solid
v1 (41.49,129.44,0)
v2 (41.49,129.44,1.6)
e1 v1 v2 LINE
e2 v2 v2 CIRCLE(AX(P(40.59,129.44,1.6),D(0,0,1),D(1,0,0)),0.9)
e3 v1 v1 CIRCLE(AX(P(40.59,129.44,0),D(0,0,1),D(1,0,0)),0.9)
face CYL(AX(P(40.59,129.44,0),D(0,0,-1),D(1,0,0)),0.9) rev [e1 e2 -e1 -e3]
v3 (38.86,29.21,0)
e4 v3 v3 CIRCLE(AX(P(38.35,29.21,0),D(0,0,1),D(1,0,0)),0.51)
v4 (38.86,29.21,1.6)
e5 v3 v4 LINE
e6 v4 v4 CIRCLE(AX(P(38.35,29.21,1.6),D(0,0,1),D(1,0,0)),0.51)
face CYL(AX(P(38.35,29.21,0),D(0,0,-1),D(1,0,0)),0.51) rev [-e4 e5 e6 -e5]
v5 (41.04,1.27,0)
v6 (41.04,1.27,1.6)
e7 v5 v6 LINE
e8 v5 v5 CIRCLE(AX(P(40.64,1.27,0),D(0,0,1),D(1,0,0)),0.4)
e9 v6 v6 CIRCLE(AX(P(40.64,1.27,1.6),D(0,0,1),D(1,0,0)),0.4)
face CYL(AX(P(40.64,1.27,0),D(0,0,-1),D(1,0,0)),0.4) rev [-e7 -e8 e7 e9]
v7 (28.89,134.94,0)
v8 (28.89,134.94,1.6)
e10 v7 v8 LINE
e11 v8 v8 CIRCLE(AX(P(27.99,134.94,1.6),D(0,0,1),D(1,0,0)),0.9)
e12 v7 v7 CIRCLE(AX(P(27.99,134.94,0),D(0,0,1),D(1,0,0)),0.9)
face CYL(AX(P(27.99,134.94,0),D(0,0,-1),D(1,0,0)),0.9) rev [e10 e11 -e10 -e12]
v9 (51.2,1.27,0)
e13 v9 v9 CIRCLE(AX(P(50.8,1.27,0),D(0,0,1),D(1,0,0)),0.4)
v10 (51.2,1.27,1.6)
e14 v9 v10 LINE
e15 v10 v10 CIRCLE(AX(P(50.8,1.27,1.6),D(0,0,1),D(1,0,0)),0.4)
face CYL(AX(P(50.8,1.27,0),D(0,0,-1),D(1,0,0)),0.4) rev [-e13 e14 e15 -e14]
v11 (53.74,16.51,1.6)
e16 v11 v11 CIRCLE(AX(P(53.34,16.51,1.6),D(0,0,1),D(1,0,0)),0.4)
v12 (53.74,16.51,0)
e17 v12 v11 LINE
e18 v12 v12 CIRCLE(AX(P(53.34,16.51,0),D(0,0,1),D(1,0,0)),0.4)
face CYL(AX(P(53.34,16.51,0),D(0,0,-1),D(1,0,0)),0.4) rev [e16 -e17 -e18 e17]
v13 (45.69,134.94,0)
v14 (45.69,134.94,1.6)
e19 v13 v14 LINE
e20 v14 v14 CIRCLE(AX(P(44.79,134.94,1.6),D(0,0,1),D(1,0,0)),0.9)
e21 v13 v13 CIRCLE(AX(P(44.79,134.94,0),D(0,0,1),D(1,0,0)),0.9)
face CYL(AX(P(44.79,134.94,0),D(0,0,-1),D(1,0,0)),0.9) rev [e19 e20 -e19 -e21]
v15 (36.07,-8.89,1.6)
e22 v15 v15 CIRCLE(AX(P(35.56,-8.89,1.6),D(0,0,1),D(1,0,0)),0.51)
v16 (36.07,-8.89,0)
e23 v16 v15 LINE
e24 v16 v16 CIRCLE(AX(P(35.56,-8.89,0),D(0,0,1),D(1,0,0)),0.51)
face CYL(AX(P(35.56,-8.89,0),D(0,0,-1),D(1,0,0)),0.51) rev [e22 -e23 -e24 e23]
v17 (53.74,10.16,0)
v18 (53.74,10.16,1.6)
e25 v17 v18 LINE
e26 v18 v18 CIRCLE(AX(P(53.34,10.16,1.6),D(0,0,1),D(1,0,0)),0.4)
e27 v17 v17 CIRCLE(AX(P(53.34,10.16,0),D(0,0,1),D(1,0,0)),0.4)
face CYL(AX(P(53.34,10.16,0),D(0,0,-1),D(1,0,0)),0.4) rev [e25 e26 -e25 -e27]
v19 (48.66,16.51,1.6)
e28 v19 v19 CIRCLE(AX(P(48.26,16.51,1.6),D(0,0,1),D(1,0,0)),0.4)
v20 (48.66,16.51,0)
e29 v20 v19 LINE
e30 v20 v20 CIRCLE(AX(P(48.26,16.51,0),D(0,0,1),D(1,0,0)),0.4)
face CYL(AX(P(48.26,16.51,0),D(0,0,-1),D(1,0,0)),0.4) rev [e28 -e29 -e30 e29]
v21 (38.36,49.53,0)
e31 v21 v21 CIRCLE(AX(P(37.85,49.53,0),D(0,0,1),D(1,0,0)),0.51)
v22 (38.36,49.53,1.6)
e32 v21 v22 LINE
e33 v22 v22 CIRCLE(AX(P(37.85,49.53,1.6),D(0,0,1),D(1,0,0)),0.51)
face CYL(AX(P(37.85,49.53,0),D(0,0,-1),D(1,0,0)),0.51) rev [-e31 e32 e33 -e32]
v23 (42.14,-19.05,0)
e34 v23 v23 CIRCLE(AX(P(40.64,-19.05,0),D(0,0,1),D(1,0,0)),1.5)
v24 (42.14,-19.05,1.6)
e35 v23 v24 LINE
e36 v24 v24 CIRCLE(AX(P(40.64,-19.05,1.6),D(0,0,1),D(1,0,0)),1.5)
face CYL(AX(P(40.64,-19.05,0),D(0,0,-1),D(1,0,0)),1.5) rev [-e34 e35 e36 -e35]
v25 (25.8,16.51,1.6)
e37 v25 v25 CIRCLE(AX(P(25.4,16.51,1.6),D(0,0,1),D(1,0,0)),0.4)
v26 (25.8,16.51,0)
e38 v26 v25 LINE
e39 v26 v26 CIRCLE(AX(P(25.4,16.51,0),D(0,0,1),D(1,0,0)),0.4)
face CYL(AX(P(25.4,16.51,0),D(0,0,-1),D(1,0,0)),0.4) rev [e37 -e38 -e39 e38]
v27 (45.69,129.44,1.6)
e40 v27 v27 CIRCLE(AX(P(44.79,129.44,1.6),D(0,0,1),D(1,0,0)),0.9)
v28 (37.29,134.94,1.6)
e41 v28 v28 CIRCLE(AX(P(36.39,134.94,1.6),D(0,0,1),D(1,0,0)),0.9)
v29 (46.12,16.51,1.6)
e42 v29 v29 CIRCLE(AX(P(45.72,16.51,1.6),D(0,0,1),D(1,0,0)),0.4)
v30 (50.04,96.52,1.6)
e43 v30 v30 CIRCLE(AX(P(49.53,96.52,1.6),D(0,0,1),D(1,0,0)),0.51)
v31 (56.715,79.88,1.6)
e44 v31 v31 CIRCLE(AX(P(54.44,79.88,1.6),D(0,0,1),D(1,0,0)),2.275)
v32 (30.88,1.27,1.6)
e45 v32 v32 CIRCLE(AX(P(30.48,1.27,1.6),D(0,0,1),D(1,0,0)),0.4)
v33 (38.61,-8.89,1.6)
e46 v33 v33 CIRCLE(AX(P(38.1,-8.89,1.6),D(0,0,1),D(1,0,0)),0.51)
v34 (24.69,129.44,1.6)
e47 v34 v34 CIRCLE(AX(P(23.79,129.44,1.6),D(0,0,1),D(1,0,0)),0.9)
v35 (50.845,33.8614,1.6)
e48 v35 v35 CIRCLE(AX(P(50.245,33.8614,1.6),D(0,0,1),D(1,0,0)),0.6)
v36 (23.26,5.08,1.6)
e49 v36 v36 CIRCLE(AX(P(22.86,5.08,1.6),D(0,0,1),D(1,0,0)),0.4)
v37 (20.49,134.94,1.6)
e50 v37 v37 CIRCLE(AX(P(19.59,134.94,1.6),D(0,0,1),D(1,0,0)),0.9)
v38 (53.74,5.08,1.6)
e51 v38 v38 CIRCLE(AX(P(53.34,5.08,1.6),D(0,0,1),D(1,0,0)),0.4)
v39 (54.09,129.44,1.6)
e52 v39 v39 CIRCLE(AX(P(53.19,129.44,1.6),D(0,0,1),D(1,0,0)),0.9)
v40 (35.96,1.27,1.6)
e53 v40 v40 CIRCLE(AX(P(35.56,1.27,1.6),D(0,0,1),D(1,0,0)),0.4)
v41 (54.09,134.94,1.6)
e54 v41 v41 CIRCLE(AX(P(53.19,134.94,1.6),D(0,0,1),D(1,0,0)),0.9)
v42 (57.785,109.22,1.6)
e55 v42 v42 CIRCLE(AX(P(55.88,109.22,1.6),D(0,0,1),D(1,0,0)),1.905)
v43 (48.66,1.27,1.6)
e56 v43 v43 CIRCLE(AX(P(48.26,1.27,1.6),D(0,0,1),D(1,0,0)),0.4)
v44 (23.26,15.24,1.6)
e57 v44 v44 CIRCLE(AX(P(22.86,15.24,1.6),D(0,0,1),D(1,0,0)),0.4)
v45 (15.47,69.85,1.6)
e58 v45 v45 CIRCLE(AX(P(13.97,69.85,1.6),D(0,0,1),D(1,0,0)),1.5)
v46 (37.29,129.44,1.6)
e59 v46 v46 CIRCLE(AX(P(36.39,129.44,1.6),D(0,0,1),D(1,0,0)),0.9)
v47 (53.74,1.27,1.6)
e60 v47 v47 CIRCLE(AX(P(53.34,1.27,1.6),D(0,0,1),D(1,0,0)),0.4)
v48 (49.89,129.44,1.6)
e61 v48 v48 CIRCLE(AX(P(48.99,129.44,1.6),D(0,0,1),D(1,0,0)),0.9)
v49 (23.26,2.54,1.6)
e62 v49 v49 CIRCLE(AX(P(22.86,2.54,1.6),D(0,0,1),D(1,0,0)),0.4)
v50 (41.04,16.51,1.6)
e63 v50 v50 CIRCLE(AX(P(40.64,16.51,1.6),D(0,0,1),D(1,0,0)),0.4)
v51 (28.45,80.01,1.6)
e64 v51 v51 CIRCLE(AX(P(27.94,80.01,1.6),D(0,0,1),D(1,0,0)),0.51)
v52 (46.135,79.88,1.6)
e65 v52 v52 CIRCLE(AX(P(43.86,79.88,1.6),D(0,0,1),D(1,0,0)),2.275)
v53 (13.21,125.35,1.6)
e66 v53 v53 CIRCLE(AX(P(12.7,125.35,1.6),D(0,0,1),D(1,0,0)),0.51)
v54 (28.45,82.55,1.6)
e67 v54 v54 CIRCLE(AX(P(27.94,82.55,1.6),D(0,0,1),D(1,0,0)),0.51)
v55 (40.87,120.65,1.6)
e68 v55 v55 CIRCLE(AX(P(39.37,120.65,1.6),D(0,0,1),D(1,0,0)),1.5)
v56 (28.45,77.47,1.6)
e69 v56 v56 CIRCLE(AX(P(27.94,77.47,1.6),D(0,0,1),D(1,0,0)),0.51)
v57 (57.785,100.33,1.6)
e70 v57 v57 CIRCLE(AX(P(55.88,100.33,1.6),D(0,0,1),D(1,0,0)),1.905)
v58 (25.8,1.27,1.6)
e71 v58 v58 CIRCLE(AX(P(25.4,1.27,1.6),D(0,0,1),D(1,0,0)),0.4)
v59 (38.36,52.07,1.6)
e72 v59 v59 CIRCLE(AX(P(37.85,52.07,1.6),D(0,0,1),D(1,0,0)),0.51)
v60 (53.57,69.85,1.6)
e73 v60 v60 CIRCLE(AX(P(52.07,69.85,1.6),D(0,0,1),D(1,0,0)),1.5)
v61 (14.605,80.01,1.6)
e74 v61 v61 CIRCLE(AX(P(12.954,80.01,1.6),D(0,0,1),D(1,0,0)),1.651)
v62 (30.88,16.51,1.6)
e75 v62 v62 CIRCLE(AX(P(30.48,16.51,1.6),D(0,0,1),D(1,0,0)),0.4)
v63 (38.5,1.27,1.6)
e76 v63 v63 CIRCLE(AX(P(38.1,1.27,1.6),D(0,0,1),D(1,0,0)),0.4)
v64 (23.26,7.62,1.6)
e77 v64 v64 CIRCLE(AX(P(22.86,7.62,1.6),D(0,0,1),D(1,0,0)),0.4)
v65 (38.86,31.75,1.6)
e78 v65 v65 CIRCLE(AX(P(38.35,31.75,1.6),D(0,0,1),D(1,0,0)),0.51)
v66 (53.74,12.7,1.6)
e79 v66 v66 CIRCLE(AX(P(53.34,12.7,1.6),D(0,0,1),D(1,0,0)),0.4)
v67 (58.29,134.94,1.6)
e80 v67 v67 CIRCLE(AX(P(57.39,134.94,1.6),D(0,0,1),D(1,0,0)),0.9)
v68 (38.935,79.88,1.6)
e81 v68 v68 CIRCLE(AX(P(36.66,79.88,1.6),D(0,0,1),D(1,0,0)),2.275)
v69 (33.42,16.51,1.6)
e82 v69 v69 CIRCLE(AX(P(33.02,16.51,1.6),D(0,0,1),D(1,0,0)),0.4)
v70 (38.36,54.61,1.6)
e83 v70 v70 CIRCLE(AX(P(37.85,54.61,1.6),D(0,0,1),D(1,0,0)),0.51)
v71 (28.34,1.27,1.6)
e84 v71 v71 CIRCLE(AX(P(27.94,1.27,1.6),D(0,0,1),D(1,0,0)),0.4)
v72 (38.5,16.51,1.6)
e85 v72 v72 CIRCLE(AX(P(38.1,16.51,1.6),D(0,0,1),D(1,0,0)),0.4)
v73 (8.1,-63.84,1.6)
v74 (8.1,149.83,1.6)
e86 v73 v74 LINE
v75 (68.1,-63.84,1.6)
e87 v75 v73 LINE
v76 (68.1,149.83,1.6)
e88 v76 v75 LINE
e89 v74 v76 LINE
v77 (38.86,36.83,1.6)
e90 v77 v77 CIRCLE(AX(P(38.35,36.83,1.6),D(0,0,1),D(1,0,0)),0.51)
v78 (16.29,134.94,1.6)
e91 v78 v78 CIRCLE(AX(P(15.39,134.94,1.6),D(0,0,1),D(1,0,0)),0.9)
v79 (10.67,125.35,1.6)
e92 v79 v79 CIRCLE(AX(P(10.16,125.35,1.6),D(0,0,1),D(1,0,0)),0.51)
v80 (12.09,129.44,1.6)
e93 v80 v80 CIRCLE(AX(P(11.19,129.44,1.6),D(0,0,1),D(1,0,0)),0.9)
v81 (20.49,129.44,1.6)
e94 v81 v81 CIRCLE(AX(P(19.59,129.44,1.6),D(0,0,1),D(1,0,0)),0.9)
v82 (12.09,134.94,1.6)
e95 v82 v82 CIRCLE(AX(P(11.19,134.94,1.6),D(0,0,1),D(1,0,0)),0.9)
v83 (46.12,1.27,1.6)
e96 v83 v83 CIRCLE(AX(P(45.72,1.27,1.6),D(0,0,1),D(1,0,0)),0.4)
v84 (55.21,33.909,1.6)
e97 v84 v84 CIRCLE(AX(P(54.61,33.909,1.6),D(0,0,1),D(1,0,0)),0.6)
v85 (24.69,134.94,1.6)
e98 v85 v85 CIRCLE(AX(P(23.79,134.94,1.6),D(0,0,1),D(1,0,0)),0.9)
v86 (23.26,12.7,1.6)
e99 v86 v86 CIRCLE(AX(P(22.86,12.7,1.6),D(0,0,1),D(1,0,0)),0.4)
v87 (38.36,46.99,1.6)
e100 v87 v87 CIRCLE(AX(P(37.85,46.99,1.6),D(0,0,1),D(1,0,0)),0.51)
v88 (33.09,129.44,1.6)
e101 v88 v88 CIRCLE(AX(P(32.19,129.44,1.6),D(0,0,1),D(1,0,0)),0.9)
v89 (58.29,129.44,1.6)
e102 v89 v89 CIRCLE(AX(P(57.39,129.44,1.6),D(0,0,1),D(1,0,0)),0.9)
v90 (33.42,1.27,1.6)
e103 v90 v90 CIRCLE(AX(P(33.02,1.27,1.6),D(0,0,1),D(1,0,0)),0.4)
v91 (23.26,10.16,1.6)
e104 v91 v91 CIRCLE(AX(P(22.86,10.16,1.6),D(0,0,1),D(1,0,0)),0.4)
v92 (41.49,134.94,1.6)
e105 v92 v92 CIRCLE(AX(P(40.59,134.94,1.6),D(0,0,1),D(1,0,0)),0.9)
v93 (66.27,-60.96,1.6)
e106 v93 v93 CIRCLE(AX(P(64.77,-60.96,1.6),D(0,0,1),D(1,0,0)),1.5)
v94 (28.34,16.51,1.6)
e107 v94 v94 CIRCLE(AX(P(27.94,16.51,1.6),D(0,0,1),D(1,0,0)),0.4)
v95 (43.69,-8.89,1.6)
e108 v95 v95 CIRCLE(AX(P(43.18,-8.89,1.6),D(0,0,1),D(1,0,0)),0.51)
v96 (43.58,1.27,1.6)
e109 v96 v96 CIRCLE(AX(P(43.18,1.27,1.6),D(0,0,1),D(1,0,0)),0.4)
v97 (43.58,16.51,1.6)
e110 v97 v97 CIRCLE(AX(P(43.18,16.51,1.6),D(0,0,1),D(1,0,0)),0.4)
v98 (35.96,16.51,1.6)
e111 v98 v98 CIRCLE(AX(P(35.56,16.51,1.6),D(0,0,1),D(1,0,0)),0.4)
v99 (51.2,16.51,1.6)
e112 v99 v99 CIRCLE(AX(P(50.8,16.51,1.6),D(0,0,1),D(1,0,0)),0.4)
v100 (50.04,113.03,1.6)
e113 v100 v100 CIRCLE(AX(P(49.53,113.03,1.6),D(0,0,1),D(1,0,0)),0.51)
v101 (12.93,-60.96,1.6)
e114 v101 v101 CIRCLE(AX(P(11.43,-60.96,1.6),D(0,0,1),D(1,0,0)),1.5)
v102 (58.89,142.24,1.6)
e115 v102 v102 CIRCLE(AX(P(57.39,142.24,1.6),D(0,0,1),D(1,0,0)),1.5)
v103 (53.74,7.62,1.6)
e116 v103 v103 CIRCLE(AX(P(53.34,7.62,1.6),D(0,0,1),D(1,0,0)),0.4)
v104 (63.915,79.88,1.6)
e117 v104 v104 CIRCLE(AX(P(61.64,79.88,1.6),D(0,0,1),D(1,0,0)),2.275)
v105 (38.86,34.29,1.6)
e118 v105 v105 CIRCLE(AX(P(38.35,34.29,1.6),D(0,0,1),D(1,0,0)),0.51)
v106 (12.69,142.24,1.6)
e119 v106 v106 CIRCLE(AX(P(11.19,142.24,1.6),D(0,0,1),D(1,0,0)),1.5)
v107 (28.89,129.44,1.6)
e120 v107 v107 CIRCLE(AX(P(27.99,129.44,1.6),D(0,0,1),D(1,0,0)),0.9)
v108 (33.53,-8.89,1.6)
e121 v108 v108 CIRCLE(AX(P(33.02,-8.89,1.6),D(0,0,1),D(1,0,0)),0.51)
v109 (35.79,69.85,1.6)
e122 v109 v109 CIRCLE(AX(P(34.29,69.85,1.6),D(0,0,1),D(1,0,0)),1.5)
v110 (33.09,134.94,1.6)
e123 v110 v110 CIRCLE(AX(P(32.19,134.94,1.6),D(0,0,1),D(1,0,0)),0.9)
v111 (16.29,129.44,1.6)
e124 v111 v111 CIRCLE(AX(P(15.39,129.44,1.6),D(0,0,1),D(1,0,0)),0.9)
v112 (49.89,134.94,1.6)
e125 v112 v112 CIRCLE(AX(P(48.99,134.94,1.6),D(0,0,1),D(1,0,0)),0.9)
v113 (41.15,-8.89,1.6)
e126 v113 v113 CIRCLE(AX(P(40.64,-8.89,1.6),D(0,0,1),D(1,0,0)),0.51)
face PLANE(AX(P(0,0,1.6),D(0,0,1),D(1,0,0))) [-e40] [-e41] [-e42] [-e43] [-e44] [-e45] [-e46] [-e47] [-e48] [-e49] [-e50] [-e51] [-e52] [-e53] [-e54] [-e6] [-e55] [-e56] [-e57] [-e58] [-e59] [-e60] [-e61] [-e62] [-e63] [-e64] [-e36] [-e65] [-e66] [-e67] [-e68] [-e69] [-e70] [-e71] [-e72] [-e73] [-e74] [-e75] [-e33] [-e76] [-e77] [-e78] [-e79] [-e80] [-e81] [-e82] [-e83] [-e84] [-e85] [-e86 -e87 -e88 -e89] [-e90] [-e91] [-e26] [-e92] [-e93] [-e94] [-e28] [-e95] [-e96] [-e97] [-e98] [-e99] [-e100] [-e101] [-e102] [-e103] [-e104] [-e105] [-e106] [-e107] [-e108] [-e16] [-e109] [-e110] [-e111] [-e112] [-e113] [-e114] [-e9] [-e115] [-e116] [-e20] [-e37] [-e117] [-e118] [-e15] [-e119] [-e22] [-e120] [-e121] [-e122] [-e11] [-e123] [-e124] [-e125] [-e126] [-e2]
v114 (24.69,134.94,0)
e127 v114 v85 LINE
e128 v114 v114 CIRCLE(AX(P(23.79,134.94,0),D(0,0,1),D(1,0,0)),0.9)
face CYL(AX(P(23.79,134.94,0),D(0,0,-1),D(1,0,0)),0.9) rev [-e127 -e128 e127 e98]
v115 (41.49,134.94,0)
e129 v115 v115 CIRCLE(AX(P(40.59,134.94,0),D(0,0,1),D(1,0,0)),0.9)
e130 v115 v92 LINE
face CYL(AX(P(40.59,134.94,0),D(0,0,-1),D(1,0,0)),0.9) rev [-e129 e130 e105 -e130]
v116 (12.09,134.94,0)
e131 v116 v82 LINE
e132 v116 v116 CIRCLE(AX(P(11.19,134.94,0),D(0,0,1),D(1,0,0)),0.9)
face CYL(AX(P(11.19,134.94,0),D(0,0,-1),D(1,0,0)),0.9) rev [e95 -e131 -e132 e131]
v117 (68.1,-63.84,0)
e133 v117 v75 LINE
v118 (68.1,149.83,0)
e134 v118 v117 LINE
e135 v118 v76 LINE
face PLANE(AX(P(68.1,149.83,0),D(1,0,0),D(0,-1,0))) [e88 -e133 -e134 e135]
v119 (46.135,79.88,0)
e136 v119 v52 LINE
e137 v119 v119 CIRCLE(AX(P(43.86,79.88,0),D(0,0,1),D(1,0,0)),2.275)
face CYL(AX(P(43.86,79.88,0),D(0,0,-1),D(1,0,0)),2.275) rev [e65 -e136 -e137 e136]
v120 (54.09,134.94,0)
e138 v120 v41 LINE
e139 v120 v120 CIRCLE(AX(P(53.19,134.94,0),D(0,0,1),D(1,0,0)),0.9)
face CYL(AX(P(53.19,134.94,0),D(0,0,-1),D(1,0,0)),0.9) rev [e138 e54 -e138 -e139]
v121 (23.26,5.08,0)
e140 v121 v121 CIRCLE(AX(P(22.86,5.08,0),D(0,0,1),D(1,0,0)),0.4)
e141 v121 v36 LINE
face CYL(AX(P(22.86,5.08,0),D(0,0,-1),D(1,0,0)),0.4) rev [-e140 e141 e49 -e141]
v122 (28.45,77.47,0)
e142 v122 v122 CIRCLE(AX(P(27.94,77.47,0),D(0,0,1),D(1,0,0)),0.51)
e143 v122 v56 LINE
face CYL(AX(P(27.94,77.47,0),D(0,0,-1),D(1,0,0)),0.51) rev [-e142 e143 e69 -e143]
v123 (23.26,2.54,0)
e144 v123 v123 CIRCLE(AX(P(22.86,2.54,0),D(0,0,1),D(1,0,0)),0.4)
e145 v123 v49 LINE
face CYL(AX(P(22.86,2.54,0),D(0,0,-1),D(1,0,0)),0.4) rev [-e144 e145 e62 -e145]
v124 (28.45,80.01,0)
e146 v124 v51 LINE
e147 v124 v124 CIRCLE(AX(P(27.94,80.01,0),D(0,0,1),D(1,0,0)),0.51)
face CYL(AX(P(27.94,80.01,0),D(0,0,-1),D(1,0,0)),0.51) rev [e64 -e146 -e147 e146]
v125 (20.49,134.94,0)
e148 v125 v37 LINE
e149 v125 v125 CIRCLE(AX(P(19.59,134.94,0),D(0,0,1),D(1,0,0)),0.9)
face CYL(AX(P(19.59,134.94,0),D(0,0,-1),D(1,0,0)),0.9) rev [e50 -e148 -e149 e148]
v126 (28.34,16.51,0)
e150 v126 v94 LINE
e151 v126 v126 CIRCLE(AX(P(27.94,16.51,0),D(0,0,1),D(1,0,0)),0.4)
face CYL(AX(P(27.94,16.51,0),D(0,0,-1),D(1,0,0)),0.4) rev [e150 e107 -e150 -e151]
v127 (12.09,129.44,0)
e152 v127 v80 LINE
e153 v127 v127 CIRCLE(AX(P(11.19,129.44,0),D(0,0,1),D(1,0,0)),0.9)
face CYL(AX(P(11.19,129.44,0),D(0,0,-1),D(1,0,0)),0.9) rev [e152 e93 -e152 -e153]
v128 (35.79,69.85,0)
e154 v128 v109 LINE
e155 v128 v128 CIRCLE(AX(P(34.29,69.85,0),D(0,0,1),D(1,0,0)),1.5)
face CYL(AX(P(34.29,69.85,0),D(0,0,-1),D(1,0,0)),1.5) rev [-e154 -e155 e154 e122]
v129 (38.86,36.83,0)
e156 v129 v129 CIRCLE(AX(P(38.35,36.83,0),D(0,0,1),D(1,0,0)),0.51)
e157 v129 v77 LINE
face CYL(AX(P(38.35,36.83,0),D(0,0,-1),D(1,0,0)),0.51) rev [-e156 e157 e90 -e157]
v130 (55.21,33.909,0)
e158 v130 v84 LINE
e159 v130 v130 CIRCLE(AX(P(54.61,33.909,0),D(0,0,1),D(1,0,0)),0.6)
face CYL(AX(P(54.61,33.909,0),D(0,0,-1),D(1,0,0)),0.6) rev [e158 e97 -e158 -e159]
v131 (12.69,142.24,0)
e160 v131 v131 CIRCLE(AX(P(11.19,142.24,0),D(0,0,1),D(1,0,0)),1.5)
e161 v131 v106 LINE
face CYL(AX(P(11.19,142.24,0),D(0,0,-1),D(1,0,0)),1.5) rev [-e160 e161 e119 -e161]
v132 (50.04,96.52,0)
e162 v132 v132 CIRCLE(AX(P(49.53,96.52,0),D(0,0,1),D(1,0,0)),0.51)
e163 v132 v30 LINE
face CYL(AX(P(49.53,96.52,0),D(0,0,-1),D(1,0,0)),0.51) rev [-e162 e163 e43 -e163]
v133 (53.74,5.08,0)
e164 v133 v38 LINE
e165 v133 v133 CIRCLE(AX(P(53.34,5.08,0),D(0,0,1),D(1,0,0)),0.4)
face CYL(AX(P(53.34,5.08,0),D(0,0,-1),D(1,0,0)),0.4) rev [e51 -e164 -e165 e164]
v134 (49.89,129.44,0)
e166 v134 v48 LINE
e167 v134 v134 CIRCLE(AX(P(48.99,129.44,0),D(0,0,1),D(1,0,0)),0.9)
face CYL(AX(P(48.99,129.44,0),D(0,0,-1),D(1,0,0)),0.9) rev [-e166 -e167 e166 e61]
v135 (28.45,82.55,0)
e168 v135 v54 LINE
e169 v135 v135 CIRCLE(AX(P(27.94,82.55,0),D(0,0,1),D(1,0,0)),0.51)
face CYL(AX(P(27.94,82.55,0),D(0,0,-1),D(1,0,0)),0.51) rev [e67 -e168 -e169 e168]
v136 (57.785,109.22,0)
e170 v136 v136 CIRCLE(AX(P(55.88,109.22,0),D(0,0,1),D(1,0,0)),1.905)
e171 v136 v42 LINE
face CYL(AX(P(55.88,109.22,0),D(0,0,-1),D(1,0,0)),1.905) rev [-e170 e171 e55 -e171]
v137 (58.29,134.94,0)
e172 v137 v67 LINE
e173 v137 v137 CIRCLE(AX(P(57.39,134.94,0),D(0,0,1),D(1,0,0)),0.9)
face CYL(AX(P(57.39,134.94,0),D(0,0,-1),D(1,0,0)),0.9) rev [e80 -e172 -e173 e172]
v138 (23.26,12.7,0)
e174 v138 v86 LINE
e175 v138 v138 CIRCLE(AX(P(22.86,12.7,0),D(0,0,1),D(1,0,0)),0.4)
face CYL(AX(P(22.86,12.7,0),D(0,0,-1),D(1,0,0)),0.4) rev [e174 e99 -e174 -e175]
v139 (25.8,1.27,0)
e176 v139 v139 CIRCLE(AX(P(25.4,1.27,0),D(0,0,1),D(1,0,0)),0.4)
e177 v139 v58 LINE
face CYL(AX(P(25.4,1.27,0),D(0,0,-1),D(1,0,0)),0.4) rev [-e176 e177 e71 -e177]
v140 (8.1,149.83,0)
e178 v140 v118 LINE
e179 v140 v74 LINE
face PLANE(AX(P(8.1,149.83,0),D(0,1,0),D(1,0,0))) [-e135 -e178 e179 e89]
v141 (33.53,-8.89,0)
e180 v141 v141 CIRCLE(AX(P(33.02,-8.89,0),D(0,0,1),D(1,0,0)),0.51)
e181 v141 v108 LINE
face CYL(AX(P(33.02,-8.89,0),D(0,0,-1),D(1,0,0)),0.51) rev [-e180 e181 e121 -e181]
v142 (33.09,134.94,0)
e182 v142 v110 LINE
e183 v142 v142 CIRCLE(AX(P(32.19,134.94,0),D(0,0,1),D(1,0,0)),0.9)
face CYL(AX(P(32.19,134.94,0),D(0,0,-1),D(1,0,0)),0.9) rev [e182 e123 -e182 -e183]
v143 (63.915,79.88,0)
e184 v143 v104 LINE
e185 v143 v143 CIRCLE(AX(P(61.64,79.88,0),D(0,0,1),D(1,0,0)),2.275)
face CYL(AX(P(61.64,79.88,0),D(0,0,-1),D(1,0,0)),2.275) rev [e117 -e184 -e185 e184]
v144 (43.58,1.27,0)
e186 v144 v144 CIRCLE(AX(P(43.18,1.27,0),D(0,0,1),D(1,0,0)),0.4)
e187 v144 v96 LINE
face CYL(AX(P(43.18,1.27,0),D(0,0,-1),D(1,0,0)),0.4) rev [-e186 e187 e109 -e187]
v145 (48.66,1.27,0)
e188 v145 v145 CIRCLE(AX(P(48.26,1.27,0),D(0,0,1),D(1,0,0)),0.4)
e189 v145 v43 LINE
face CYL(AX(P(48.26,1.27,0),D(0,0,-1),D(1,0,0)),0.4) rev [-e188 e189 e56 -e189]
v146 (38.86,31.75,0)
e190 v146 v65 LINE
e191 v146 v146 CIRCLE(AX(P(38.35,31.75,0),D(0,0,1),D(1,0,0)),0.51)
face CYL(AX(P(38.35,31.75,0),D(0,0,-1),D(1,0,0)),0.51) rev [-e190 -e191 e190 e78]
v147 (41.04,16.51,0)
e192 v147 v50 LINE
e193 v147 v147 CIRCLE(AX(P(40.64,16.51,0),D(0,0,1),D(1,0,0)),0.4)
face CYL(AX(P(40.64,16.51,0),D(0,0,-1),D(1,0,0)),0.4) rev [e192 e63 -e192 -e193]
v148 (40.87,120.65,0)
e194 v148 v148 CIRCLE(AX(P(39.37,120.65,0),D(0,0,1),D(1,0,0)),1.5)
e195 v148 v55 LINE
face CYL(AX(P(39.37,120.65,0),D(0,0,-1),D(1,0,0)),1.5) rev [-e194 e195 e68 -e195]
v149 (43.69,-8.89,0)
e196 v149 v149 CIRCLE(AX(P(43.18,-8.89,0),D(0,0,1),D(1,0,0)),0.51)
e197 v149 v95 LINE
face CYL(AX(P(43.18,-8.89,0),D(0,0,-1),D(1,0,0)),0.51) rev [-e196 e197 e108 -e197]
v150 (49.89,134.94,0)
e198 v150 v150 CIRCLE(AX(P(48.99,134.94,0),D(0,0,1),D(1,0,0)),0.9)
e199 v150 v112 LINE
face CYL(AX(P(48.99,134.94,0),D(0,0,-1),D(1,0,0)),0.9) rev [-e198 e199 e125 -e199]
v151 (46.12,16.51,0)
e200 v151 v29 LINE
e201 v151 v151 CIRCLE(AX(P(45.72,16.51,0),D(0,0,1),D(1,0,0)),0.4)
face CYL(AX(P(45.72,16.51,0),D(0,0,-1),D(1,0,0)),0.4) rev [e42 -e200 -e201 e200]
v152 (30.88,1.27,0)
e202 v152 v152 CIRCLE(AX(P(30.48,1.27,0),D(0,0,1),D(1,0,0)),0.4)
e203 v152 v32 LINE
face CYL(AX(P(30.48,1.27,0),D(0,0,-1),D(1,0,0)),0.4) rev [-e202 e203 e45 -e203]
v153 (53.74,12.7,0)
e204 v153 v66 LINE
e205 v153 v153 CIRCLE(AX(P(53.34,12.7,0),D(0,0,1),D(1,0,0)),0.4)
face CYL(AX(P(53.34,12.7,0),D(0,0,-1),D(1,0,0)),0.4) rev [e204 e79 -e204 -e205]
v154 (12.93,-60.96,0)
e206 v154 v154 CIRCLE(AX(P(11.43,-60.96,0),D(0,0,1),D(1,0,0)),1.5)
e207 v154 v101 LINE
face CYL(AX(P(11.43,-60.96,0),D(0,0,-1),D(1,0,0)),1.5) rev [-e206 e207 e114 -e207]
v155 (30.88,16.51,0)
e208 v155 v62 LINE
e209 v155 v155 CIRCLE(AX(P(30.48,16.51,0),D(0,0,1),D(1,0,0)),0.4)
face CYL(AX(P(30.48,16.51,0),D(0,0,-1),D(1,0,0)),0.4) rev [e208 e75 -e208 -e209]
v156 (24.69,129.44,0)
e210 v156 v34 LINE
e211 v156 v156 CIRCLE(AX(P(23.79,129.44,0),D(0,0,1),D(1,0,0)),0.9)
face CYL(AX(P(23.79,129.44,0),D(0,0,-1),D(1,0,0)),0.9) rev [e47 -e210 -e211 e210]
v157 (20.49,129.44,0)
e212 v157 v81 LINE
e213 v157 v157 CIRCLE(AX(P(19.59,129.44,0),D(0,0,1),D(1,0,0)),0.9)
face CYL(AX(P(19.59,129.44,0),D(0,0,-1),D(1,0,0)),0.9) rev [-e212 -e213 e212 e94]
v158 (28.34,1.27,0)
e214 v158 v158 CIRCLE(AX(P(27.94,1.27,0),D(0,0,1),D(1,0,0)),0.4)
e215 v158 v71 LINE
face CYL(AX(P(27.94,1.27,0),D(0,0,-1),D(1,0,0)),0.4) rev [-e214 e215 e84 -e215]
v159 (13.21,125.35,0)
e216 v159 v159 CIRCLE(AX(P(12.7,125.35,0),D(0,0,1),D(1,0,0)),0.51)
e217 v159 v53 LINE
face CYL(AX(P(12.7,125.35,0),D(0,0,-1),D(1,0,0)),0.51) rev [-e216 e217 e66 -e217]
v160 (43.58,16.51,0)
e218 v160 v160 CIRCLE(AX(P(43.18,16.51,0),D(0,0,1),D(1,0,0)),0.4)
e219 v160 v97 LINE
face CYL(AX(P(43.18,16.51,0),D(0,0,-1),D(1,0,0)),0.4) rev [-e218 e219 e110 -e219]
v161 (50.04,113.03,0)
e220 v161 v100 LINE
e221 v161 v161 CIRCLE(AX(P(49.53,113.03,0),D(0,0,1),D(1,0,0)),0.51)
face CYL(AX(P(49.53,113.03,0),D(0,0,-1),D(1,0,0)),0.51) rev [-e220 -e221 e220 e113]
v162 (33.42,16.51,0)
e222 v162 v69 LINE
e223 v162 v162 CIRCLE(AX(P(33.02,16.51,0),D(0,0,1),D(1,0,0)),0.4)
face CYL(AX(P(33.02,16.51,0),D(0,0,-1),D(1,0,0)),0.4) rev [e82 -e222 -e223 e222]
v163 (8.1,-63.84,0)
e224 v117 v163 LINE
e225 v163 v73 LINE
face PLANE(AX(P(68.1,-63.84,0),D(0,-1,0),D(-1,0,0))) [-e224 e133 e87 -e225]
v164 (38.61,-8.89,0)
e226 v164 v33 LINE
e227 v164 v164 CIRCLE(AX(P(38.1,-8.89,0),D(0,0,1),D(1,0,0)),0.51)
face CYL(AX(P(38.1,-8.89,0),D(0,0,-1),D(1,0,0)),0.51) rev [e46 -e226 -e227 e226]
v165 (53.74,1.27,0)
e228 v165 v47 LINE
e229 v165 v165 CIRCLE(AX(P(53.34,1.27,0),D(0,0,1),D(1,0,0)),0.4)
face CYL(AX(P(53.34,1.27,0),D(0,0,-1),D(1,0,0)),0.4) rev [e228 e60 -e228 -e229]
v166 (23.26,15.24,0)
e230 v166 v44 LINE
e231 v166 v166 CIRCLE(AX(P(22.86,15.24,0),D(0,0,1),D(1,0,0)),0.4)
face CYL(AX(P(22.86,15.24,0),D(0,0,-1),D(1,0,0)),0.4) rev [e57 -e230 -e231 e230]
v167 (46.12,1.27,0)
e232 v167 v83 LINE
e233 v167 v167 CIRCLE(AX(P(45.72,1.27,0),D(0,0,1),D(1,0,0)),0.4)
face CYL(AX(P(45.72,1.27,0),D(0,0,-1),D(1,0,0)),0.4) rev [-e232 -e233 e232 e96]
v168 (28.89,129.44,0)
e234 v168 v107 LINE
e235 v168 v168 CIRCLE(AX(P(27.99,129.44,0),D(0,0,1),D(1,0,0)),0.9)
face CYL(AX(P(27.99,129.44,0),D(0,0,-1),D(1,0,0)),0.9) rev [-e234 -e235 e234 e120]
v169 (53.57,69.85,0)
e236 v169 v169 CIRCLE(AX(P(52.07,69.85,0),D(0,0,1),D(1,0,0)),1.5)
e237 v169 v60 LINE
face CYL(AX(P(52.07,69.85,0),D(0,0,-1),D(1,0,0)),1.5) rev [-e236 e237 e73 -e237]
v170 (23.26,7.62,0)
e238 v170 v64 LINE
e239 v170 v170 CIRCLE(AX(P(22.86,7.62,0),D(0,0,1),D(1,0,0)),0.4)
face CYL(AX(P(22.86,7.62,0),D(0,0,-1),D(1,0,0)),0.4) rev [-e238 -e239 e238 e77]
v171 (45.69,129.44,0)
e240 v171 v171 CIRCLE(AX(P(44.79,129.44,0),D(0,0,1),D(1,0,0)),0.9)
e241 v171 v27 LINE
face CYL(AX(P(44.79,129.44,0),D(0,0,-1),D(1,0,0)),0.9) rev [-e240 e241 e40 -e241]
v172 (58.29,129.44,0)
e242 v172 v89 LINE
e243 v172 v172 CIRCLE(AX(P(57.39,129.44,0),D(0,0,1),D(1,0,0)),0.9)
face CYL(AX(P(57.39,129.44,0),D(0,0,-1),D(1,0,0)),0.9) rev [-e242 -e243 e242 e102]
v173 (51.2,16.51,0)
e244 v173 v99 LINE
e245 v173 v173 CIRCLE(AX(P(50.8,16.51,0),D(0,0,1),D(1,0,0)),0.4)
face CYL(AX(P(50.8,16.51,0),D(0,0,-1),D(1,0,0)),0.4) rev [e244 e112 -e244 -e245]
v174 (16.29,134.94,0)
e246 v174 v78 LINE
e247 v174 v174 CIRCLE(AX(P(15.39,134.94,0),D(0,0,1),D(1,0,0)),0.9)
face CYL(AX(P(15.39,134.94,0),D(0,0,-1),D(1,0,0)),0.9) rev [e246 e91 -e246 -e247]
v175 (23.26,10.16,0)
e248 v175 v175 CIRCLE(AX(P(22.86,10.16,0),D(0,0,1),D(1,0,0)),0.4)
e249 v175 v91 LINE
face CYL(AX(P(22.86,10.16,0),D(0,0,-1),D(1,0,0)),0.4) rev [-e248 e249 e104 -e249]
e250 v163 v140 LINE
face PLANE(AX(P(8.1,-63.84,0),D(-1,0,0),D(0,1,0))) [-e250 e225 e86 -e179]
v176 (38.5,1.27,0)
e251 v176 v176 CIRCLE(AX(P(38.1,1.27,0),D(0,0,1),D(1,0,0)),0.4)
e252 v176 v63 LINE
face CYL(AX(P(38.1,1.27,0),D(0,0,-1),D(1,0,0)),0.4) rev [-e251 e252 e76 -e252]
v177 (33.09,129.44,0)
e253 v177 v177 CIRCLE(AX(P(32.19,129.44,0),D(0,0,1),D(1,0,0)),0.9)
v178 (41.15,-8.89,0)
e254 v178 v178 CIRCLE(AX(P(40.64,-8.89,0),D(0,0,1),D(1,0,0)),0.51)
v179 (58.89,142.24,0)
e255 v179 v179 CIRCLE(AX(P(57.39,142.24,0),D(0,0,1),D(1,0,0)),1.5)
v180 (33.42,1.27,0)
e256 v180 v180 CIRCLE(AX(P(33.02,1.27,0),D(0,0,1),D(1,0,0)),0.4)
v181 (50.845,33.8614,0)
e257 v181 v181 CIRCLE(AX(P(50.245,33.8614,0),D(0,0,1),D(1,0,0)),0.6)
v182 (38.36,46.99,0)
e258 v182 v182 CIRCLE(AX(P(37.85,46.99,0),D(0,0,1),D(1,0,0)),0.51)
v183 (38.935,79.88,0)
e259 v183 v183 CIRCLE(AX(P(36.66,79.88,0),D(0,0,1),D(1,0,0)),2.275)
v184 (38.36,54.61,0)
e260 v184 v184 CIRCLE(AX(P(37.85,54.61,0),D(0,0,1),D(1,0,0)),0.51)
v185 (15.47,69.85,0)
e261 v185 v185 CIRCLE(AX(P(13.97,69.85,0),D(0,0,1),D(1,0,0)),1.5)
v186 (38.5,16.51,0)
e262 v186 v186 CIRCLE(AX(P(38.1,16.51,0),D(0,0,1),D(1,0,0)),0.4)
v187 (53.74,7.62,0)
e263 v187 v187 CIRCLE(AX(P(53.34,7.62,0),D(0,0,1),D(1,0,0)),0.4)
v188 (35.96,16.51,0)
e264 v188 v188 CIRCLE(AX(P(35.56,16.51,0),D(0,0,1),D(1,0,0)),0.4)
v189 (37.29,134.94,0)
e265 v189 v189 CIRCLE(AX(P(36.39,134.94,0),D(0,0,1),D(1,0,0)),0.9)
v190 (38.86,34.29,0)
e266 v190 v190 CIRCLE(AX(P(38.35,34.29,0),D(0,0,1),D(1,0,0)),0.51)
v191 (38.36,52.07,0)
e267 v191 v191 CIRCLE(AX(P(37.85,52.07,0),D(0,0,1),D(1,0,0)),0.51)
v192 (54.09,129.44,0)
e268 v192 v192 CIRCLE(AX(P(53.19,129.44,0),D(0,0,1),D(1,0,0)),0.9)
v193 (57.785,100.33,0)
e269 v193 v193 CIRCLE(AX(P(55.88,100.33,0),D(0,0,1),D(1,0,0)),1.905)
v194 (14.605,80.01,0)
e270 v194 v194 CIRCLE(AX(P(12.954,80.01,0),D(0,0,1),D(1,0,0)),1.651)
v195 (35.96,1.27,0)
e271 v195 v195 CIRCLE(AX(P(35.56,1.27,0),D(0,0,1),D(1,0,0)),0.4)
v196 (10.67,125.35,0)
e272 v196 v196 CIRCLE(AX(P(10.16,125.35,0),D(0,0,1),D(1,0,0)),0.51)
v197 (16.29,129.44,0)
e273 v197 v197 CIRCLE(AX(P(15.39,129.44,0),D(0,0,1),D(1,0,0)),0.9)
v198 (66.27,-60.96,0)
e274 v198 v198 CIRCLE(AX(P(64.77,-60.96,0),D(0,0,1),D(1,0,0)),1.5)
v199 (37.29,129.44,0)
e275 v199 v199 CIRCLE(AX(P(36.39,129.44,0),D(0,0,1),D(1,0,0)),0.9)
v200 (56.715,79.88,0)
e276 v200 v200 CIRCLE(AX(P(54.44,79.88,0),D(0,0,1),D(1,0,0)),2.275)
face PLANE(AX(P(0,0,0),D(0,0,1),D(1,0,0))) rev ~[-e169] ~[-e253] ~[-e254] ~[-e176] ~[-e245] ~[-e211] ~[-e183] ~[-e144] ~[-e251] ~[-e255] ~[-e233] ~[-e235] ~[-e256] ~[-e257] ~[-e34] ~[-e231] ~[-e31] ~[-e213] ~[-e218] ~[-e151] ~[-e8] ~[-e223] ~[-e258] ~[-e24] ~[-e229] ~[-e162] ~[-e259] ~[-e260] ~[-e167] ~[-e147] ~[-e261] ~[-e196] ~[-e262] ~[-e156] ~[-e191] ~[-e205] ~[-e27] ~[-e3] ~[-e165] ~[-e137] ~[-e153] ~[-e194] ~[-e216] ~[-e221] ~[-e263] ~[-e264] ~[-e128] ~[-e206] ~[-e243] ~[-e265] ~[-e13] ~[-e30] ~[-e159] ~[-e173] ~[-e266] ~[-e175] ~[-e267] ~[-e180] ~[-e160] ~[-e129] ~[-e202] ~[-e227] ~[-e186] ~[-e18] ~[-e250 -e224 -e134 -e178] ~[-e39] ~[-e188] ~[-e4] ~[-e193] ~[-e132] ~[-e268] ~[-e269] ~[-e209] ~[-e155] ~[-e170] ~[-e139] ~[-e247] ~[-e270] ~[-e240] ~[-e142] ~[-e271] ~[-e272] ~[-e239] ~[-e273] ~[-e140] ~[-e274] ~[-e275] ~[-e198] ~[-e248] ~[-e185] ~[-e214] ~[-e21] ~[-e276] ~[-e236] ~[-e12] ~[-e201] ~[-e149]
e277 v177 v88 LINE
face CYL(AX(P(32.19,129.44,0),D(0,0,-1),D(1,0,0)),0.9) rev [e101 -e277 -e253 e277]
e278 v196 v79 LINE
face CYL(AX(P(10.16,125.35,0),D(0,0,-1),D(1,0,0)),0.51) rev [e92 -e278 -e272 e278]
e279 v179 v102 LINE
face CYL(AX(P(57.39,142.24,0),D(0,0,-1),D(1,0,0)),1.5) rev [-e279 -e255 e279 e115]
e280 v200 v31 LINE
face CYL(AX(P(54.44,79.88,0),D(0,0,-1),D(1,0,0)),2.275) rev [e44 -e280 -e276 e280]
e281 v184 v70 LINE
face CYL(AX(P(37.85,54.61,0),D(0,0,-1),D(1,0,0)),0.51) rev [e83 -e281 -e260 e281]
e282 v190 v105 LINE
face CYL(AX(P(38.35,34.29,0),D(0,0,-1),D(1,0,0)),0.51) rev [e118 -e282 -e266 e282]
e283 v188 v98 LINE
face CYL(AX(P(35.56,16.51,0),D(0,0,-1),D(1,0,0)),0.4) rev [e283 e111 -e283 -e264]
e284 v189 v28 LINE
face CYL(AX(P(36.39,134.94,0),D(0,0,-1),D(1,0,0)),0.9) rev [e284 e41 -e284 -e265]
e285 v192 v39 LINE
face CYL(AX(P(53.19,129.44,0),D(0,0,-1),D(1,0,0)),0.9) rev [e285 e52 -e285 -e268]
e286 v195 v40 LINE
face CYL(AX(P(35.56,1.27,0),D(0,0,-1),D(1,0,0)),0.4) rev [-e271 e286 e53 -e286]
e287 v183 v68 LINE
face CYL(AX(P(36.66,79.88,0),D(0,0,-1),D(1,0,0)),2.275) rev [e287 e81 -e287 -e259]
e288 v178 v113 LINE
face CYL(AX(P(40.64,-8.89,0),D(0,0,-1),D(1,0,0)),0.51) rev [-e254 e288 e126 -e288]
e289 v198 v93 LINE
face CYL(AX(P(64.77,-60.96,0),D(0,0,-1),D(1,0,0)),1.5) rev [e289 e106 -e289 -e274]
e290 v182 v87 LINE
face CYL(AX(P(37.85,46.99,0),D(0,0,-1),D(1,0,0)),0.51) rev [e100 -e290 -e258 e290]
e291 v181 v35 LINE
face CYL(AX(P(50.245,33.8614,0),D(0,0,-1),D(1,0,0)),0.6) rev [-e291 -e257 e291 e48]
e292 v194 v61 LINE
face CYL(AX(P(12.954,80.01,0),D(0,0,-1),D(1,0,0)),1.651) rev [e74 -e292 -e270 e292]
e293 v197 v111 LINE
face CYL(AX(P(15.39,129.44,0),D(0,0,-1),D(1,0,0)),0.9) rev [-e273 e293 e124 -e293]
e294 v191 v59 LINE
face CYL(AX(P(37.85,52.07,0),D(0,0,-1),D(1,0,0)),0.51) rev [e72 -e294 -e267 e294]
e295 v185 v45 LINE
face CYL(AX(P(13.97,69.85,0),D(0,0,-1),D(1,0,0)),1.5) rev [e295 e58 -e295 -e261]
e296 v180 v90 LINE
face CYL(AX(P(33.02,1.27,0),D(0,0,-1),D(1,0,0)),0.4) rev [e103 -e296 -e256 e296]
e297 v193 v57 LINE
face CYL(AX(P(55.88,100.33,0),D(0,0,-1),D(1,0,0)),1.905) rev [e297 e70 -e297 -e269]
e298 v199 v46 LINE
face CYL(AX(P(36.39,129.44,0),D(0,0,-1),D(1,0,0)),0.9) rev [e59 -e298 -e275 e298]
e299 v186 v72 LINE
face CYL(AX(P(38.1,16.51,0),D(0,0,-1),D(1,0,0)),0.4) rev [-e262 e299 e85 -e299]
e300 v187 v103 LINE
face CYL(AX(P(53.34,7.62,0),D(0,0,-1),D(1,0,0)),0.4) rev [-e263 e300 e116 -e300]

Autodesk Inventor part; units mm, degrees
ref_plane "YZ Plane" through (0, 0, 0) normal (1, 0, 0) x (0, 1, 0)
ref_plane "XZ Plane" through (0, 0, 0) normal (0, 1, 0) x (-1, 0, 0)
ref_plane "XY Plane" through (0, 0, 0) normal (0, 0, 1) x (1, 0, 0)
sketch "Эскиз1" plane through (0, 0, 0) normal (0, 0, 1) x (1, 0, 0)
  line L0 (68.1, 149.83) -> (68.1, -63.84)
  line L1 (68.1, -63.84) -> (8.1, -63.84)
  line L2 (8.1, -63.84) -> (8.1, 149.83)
  line L3 (8.1, 149.83) -> (68.1, 149.83)
  circle A0 centre (38.35, 29.21) radius 0.51
  circle A1 centre (38.35, 31.75) radius 0.51
  circle A2 centre (38.35, 34.29) radius 0.51
  circle A3 centre (38.35, 36.83) radius 0.51
  circle A4 centre (37.85, 54.61) radius 0.51
  circle A5 centre (37.85, 52.07) radius 0.51
  circle A6 centre (37.85, 49.53) radius 0.51
  circle A7 centre (37.85, 46.99) radius 0.51
  circle A8 centre (43.86, 79.88) radius 2.275
  circle A9 centre (36.66, 79.88) radius 2.275
  circle A10 centre (61.64, 79.88) radius 2.275
  circle A11 centre (54.44, 79.88) radius 2.275
  circle A12 centre (55.88, 100.33) radius 1.905
  circle A13 centre (55.88, 109.22) radius 1.905
  circle A14 centre (11.19, 134.94) radius 0.9
  circle A15 centre (15.39, 134.94) radius 0.9
  circle A16 centre (19.59, 134.94) radius 0.9
  circle A17 centre (23.79, 134.94) radius 0.9
  circle A18 centre (27.99, 134.94) radius 0.9
  circle A19 centre (32.19, 134.94) radius 0.9
  circle A20 centre (36.39, 134.94) radius 0.9
  circle A21 centre (40.59, 134.94) radius 0.9
  circle A22 centre (44.79, 134.94) radius 0.9
  circle A23 centre (48.99, 134.94) radius 0.9
  circle A24 centre (53.19, 134.94) radius 0.9
  circle A25 centre (57.39, 134.94) radius 0.9
  circle A26 centre (11.19, 129.44) radius 0.9
  circle A27 centre (15.39, 129.44) radius 0.9
  circle A28 centre (19.59, 129.44) radius 0.9
  circle A29 centre (23.79, 129.44) radius 0.9
  circle A30 centre (27.99, 129.44) radius 0.9
  circle A31 centre (32.19, 129.44) radius 0.9
  circle A32 centre (36.39, 129.44) radius 0.9
  circle A33 centre (40.59, 129.44) radius 0.9
  circle A34 centre (44.79, 129.44) radius 0.9
  circle A35 centre (48.99, 129.44) radius 0.9
  circle A36 centre (53.19, 129.44) radius 0.9
  circle A37 centre (57.39, 129.44) radius 0.9
  circle A38 centre (49.53, 113.03) radius 0.51
  circle A39 centre (12.7, 125.35) radius 0.51
  circle A40 centre (10.16, 125.35) radius 0.51
  circle A41 centre (49.53, 96.52) radius 0.51
  circle A42 centre (43.18, -8.89) radius 0.51
  circle A43 centre (40.64, -8.89) radius 0.51
  circle A44 centre (38.1, -8.89) radius 0.51
  circle A45 centre (35.56, -8.89) radius 0.51
  circle A46 centre (33.02, -8.89) radius 0.51
  circle A47 centre (43.18, 16.51) radius 0.4
  circle A48 centre (40.64, 16.51) radius 0.4
  circle A49 centre (38.1, 16.51) radius 0.4
  circle A50 centre (35.56, 16.51) radius 0.4
  circle A51 centre (53.34, 5.08) radius 0.4
  circle A52 centre (53.34, 7.62) radius 0.4
  circle A53 centre (53.34, 10.16) radius 0.4
  circle A54 centre (53.34, 12.7) radius 0.4
  circle A55 centre (35.56, 1.27) radius 0.4
  circle A56 centre (38.1, 1.27) radius 0.4
  circle A57 centre (40.64, 1.27) radius 0.4
  circle A58 centre (43.18, 1.27) radius 0.4
  circle A59 centre (45.72, 1.27) radius 0.4
  circle A60 centre (48.26, 1.27) radius 0.4
  circle A61 centre (50.8, 1.27) radius 0.4
  circle A62 centre (53.34, 1.27) radius 0.4
  circle A63 centre (53.34, 16.51) radius 0.4
  circle A64 centre (50.8, 16.51) radius 0.4
  circle A65 centre (48.26, 16.51) radius 0.4
  circle A66 centre (45.72, 16.51) radius 0.4
  circle A67 centre (22.86, 15.24) radius 0.4
  circle A68 centre (27.94, 16.51) radius 0.4
  circle A69 centre (33.02, 1.27) radius 0.4
  circle A70 centre (22.86, 2.54) radius 0.4
  circle A71 centre (22.86, 5.08) radius 0.4
  circle A72 centre (25.4, 16.51) radius 0.4
  circle A73 centre (30.48, 16.51) radius 0.4
  circle A74 centre (30.48, 1.27) radius 0.4
  circle A75 centre (27.94, 1.27) radius 0.4
  circle A76 centre (22.86, 10.16) radius 0.4
  circle A77 centre (25.4, 1.27) radius 0.4
  circle A78 centre (22.86, 12.7) radius 0.4
  circle A79 centre (33.02, 16.51) radius 0.4
  circle A80 centre (22.86, 7.62) radius 0.4
  circle A81 centre (27.94, 80.01) radius 0.51
  circle A82 centre (27.94, 82.55) radius 0.51
  circle A83 centre (27.94, 77.47) radius 0.51
  circle A84 centre (52.07, 69.85) radius 1.5
  circle A85 centre (34.29, 69.85) radius 1.5
  circle A86 centre (13.97, 69.85) radius 1.5
  circle A87 centre (11.43, -60.96) radius 1.5
  circle A88 centre (64.77, -60.96) radius 1.5
  circle A89 centre (40.64, -19.05) radius 1.5
  circle A90 centre (39.37, 120.65) radius 1.5
  circle A91 centre (57.39, 142.24) radius 1.5
  circle A92 centre (11.19, 142.24) radius 1.5
  circle A93 centre (12.954, 80.01) radius 1.651
  circle A94 centre (50.245, 33.8614) radius 0.6
  circle A95 centre (54.61, 33.909) radius 0.6
extrude "Omnibot_battery_module.brdКонтур" add sketch "Эскиз1" along normal blind 1.6
properties part number "Omnibot_battery_module.brdКонтур1"
